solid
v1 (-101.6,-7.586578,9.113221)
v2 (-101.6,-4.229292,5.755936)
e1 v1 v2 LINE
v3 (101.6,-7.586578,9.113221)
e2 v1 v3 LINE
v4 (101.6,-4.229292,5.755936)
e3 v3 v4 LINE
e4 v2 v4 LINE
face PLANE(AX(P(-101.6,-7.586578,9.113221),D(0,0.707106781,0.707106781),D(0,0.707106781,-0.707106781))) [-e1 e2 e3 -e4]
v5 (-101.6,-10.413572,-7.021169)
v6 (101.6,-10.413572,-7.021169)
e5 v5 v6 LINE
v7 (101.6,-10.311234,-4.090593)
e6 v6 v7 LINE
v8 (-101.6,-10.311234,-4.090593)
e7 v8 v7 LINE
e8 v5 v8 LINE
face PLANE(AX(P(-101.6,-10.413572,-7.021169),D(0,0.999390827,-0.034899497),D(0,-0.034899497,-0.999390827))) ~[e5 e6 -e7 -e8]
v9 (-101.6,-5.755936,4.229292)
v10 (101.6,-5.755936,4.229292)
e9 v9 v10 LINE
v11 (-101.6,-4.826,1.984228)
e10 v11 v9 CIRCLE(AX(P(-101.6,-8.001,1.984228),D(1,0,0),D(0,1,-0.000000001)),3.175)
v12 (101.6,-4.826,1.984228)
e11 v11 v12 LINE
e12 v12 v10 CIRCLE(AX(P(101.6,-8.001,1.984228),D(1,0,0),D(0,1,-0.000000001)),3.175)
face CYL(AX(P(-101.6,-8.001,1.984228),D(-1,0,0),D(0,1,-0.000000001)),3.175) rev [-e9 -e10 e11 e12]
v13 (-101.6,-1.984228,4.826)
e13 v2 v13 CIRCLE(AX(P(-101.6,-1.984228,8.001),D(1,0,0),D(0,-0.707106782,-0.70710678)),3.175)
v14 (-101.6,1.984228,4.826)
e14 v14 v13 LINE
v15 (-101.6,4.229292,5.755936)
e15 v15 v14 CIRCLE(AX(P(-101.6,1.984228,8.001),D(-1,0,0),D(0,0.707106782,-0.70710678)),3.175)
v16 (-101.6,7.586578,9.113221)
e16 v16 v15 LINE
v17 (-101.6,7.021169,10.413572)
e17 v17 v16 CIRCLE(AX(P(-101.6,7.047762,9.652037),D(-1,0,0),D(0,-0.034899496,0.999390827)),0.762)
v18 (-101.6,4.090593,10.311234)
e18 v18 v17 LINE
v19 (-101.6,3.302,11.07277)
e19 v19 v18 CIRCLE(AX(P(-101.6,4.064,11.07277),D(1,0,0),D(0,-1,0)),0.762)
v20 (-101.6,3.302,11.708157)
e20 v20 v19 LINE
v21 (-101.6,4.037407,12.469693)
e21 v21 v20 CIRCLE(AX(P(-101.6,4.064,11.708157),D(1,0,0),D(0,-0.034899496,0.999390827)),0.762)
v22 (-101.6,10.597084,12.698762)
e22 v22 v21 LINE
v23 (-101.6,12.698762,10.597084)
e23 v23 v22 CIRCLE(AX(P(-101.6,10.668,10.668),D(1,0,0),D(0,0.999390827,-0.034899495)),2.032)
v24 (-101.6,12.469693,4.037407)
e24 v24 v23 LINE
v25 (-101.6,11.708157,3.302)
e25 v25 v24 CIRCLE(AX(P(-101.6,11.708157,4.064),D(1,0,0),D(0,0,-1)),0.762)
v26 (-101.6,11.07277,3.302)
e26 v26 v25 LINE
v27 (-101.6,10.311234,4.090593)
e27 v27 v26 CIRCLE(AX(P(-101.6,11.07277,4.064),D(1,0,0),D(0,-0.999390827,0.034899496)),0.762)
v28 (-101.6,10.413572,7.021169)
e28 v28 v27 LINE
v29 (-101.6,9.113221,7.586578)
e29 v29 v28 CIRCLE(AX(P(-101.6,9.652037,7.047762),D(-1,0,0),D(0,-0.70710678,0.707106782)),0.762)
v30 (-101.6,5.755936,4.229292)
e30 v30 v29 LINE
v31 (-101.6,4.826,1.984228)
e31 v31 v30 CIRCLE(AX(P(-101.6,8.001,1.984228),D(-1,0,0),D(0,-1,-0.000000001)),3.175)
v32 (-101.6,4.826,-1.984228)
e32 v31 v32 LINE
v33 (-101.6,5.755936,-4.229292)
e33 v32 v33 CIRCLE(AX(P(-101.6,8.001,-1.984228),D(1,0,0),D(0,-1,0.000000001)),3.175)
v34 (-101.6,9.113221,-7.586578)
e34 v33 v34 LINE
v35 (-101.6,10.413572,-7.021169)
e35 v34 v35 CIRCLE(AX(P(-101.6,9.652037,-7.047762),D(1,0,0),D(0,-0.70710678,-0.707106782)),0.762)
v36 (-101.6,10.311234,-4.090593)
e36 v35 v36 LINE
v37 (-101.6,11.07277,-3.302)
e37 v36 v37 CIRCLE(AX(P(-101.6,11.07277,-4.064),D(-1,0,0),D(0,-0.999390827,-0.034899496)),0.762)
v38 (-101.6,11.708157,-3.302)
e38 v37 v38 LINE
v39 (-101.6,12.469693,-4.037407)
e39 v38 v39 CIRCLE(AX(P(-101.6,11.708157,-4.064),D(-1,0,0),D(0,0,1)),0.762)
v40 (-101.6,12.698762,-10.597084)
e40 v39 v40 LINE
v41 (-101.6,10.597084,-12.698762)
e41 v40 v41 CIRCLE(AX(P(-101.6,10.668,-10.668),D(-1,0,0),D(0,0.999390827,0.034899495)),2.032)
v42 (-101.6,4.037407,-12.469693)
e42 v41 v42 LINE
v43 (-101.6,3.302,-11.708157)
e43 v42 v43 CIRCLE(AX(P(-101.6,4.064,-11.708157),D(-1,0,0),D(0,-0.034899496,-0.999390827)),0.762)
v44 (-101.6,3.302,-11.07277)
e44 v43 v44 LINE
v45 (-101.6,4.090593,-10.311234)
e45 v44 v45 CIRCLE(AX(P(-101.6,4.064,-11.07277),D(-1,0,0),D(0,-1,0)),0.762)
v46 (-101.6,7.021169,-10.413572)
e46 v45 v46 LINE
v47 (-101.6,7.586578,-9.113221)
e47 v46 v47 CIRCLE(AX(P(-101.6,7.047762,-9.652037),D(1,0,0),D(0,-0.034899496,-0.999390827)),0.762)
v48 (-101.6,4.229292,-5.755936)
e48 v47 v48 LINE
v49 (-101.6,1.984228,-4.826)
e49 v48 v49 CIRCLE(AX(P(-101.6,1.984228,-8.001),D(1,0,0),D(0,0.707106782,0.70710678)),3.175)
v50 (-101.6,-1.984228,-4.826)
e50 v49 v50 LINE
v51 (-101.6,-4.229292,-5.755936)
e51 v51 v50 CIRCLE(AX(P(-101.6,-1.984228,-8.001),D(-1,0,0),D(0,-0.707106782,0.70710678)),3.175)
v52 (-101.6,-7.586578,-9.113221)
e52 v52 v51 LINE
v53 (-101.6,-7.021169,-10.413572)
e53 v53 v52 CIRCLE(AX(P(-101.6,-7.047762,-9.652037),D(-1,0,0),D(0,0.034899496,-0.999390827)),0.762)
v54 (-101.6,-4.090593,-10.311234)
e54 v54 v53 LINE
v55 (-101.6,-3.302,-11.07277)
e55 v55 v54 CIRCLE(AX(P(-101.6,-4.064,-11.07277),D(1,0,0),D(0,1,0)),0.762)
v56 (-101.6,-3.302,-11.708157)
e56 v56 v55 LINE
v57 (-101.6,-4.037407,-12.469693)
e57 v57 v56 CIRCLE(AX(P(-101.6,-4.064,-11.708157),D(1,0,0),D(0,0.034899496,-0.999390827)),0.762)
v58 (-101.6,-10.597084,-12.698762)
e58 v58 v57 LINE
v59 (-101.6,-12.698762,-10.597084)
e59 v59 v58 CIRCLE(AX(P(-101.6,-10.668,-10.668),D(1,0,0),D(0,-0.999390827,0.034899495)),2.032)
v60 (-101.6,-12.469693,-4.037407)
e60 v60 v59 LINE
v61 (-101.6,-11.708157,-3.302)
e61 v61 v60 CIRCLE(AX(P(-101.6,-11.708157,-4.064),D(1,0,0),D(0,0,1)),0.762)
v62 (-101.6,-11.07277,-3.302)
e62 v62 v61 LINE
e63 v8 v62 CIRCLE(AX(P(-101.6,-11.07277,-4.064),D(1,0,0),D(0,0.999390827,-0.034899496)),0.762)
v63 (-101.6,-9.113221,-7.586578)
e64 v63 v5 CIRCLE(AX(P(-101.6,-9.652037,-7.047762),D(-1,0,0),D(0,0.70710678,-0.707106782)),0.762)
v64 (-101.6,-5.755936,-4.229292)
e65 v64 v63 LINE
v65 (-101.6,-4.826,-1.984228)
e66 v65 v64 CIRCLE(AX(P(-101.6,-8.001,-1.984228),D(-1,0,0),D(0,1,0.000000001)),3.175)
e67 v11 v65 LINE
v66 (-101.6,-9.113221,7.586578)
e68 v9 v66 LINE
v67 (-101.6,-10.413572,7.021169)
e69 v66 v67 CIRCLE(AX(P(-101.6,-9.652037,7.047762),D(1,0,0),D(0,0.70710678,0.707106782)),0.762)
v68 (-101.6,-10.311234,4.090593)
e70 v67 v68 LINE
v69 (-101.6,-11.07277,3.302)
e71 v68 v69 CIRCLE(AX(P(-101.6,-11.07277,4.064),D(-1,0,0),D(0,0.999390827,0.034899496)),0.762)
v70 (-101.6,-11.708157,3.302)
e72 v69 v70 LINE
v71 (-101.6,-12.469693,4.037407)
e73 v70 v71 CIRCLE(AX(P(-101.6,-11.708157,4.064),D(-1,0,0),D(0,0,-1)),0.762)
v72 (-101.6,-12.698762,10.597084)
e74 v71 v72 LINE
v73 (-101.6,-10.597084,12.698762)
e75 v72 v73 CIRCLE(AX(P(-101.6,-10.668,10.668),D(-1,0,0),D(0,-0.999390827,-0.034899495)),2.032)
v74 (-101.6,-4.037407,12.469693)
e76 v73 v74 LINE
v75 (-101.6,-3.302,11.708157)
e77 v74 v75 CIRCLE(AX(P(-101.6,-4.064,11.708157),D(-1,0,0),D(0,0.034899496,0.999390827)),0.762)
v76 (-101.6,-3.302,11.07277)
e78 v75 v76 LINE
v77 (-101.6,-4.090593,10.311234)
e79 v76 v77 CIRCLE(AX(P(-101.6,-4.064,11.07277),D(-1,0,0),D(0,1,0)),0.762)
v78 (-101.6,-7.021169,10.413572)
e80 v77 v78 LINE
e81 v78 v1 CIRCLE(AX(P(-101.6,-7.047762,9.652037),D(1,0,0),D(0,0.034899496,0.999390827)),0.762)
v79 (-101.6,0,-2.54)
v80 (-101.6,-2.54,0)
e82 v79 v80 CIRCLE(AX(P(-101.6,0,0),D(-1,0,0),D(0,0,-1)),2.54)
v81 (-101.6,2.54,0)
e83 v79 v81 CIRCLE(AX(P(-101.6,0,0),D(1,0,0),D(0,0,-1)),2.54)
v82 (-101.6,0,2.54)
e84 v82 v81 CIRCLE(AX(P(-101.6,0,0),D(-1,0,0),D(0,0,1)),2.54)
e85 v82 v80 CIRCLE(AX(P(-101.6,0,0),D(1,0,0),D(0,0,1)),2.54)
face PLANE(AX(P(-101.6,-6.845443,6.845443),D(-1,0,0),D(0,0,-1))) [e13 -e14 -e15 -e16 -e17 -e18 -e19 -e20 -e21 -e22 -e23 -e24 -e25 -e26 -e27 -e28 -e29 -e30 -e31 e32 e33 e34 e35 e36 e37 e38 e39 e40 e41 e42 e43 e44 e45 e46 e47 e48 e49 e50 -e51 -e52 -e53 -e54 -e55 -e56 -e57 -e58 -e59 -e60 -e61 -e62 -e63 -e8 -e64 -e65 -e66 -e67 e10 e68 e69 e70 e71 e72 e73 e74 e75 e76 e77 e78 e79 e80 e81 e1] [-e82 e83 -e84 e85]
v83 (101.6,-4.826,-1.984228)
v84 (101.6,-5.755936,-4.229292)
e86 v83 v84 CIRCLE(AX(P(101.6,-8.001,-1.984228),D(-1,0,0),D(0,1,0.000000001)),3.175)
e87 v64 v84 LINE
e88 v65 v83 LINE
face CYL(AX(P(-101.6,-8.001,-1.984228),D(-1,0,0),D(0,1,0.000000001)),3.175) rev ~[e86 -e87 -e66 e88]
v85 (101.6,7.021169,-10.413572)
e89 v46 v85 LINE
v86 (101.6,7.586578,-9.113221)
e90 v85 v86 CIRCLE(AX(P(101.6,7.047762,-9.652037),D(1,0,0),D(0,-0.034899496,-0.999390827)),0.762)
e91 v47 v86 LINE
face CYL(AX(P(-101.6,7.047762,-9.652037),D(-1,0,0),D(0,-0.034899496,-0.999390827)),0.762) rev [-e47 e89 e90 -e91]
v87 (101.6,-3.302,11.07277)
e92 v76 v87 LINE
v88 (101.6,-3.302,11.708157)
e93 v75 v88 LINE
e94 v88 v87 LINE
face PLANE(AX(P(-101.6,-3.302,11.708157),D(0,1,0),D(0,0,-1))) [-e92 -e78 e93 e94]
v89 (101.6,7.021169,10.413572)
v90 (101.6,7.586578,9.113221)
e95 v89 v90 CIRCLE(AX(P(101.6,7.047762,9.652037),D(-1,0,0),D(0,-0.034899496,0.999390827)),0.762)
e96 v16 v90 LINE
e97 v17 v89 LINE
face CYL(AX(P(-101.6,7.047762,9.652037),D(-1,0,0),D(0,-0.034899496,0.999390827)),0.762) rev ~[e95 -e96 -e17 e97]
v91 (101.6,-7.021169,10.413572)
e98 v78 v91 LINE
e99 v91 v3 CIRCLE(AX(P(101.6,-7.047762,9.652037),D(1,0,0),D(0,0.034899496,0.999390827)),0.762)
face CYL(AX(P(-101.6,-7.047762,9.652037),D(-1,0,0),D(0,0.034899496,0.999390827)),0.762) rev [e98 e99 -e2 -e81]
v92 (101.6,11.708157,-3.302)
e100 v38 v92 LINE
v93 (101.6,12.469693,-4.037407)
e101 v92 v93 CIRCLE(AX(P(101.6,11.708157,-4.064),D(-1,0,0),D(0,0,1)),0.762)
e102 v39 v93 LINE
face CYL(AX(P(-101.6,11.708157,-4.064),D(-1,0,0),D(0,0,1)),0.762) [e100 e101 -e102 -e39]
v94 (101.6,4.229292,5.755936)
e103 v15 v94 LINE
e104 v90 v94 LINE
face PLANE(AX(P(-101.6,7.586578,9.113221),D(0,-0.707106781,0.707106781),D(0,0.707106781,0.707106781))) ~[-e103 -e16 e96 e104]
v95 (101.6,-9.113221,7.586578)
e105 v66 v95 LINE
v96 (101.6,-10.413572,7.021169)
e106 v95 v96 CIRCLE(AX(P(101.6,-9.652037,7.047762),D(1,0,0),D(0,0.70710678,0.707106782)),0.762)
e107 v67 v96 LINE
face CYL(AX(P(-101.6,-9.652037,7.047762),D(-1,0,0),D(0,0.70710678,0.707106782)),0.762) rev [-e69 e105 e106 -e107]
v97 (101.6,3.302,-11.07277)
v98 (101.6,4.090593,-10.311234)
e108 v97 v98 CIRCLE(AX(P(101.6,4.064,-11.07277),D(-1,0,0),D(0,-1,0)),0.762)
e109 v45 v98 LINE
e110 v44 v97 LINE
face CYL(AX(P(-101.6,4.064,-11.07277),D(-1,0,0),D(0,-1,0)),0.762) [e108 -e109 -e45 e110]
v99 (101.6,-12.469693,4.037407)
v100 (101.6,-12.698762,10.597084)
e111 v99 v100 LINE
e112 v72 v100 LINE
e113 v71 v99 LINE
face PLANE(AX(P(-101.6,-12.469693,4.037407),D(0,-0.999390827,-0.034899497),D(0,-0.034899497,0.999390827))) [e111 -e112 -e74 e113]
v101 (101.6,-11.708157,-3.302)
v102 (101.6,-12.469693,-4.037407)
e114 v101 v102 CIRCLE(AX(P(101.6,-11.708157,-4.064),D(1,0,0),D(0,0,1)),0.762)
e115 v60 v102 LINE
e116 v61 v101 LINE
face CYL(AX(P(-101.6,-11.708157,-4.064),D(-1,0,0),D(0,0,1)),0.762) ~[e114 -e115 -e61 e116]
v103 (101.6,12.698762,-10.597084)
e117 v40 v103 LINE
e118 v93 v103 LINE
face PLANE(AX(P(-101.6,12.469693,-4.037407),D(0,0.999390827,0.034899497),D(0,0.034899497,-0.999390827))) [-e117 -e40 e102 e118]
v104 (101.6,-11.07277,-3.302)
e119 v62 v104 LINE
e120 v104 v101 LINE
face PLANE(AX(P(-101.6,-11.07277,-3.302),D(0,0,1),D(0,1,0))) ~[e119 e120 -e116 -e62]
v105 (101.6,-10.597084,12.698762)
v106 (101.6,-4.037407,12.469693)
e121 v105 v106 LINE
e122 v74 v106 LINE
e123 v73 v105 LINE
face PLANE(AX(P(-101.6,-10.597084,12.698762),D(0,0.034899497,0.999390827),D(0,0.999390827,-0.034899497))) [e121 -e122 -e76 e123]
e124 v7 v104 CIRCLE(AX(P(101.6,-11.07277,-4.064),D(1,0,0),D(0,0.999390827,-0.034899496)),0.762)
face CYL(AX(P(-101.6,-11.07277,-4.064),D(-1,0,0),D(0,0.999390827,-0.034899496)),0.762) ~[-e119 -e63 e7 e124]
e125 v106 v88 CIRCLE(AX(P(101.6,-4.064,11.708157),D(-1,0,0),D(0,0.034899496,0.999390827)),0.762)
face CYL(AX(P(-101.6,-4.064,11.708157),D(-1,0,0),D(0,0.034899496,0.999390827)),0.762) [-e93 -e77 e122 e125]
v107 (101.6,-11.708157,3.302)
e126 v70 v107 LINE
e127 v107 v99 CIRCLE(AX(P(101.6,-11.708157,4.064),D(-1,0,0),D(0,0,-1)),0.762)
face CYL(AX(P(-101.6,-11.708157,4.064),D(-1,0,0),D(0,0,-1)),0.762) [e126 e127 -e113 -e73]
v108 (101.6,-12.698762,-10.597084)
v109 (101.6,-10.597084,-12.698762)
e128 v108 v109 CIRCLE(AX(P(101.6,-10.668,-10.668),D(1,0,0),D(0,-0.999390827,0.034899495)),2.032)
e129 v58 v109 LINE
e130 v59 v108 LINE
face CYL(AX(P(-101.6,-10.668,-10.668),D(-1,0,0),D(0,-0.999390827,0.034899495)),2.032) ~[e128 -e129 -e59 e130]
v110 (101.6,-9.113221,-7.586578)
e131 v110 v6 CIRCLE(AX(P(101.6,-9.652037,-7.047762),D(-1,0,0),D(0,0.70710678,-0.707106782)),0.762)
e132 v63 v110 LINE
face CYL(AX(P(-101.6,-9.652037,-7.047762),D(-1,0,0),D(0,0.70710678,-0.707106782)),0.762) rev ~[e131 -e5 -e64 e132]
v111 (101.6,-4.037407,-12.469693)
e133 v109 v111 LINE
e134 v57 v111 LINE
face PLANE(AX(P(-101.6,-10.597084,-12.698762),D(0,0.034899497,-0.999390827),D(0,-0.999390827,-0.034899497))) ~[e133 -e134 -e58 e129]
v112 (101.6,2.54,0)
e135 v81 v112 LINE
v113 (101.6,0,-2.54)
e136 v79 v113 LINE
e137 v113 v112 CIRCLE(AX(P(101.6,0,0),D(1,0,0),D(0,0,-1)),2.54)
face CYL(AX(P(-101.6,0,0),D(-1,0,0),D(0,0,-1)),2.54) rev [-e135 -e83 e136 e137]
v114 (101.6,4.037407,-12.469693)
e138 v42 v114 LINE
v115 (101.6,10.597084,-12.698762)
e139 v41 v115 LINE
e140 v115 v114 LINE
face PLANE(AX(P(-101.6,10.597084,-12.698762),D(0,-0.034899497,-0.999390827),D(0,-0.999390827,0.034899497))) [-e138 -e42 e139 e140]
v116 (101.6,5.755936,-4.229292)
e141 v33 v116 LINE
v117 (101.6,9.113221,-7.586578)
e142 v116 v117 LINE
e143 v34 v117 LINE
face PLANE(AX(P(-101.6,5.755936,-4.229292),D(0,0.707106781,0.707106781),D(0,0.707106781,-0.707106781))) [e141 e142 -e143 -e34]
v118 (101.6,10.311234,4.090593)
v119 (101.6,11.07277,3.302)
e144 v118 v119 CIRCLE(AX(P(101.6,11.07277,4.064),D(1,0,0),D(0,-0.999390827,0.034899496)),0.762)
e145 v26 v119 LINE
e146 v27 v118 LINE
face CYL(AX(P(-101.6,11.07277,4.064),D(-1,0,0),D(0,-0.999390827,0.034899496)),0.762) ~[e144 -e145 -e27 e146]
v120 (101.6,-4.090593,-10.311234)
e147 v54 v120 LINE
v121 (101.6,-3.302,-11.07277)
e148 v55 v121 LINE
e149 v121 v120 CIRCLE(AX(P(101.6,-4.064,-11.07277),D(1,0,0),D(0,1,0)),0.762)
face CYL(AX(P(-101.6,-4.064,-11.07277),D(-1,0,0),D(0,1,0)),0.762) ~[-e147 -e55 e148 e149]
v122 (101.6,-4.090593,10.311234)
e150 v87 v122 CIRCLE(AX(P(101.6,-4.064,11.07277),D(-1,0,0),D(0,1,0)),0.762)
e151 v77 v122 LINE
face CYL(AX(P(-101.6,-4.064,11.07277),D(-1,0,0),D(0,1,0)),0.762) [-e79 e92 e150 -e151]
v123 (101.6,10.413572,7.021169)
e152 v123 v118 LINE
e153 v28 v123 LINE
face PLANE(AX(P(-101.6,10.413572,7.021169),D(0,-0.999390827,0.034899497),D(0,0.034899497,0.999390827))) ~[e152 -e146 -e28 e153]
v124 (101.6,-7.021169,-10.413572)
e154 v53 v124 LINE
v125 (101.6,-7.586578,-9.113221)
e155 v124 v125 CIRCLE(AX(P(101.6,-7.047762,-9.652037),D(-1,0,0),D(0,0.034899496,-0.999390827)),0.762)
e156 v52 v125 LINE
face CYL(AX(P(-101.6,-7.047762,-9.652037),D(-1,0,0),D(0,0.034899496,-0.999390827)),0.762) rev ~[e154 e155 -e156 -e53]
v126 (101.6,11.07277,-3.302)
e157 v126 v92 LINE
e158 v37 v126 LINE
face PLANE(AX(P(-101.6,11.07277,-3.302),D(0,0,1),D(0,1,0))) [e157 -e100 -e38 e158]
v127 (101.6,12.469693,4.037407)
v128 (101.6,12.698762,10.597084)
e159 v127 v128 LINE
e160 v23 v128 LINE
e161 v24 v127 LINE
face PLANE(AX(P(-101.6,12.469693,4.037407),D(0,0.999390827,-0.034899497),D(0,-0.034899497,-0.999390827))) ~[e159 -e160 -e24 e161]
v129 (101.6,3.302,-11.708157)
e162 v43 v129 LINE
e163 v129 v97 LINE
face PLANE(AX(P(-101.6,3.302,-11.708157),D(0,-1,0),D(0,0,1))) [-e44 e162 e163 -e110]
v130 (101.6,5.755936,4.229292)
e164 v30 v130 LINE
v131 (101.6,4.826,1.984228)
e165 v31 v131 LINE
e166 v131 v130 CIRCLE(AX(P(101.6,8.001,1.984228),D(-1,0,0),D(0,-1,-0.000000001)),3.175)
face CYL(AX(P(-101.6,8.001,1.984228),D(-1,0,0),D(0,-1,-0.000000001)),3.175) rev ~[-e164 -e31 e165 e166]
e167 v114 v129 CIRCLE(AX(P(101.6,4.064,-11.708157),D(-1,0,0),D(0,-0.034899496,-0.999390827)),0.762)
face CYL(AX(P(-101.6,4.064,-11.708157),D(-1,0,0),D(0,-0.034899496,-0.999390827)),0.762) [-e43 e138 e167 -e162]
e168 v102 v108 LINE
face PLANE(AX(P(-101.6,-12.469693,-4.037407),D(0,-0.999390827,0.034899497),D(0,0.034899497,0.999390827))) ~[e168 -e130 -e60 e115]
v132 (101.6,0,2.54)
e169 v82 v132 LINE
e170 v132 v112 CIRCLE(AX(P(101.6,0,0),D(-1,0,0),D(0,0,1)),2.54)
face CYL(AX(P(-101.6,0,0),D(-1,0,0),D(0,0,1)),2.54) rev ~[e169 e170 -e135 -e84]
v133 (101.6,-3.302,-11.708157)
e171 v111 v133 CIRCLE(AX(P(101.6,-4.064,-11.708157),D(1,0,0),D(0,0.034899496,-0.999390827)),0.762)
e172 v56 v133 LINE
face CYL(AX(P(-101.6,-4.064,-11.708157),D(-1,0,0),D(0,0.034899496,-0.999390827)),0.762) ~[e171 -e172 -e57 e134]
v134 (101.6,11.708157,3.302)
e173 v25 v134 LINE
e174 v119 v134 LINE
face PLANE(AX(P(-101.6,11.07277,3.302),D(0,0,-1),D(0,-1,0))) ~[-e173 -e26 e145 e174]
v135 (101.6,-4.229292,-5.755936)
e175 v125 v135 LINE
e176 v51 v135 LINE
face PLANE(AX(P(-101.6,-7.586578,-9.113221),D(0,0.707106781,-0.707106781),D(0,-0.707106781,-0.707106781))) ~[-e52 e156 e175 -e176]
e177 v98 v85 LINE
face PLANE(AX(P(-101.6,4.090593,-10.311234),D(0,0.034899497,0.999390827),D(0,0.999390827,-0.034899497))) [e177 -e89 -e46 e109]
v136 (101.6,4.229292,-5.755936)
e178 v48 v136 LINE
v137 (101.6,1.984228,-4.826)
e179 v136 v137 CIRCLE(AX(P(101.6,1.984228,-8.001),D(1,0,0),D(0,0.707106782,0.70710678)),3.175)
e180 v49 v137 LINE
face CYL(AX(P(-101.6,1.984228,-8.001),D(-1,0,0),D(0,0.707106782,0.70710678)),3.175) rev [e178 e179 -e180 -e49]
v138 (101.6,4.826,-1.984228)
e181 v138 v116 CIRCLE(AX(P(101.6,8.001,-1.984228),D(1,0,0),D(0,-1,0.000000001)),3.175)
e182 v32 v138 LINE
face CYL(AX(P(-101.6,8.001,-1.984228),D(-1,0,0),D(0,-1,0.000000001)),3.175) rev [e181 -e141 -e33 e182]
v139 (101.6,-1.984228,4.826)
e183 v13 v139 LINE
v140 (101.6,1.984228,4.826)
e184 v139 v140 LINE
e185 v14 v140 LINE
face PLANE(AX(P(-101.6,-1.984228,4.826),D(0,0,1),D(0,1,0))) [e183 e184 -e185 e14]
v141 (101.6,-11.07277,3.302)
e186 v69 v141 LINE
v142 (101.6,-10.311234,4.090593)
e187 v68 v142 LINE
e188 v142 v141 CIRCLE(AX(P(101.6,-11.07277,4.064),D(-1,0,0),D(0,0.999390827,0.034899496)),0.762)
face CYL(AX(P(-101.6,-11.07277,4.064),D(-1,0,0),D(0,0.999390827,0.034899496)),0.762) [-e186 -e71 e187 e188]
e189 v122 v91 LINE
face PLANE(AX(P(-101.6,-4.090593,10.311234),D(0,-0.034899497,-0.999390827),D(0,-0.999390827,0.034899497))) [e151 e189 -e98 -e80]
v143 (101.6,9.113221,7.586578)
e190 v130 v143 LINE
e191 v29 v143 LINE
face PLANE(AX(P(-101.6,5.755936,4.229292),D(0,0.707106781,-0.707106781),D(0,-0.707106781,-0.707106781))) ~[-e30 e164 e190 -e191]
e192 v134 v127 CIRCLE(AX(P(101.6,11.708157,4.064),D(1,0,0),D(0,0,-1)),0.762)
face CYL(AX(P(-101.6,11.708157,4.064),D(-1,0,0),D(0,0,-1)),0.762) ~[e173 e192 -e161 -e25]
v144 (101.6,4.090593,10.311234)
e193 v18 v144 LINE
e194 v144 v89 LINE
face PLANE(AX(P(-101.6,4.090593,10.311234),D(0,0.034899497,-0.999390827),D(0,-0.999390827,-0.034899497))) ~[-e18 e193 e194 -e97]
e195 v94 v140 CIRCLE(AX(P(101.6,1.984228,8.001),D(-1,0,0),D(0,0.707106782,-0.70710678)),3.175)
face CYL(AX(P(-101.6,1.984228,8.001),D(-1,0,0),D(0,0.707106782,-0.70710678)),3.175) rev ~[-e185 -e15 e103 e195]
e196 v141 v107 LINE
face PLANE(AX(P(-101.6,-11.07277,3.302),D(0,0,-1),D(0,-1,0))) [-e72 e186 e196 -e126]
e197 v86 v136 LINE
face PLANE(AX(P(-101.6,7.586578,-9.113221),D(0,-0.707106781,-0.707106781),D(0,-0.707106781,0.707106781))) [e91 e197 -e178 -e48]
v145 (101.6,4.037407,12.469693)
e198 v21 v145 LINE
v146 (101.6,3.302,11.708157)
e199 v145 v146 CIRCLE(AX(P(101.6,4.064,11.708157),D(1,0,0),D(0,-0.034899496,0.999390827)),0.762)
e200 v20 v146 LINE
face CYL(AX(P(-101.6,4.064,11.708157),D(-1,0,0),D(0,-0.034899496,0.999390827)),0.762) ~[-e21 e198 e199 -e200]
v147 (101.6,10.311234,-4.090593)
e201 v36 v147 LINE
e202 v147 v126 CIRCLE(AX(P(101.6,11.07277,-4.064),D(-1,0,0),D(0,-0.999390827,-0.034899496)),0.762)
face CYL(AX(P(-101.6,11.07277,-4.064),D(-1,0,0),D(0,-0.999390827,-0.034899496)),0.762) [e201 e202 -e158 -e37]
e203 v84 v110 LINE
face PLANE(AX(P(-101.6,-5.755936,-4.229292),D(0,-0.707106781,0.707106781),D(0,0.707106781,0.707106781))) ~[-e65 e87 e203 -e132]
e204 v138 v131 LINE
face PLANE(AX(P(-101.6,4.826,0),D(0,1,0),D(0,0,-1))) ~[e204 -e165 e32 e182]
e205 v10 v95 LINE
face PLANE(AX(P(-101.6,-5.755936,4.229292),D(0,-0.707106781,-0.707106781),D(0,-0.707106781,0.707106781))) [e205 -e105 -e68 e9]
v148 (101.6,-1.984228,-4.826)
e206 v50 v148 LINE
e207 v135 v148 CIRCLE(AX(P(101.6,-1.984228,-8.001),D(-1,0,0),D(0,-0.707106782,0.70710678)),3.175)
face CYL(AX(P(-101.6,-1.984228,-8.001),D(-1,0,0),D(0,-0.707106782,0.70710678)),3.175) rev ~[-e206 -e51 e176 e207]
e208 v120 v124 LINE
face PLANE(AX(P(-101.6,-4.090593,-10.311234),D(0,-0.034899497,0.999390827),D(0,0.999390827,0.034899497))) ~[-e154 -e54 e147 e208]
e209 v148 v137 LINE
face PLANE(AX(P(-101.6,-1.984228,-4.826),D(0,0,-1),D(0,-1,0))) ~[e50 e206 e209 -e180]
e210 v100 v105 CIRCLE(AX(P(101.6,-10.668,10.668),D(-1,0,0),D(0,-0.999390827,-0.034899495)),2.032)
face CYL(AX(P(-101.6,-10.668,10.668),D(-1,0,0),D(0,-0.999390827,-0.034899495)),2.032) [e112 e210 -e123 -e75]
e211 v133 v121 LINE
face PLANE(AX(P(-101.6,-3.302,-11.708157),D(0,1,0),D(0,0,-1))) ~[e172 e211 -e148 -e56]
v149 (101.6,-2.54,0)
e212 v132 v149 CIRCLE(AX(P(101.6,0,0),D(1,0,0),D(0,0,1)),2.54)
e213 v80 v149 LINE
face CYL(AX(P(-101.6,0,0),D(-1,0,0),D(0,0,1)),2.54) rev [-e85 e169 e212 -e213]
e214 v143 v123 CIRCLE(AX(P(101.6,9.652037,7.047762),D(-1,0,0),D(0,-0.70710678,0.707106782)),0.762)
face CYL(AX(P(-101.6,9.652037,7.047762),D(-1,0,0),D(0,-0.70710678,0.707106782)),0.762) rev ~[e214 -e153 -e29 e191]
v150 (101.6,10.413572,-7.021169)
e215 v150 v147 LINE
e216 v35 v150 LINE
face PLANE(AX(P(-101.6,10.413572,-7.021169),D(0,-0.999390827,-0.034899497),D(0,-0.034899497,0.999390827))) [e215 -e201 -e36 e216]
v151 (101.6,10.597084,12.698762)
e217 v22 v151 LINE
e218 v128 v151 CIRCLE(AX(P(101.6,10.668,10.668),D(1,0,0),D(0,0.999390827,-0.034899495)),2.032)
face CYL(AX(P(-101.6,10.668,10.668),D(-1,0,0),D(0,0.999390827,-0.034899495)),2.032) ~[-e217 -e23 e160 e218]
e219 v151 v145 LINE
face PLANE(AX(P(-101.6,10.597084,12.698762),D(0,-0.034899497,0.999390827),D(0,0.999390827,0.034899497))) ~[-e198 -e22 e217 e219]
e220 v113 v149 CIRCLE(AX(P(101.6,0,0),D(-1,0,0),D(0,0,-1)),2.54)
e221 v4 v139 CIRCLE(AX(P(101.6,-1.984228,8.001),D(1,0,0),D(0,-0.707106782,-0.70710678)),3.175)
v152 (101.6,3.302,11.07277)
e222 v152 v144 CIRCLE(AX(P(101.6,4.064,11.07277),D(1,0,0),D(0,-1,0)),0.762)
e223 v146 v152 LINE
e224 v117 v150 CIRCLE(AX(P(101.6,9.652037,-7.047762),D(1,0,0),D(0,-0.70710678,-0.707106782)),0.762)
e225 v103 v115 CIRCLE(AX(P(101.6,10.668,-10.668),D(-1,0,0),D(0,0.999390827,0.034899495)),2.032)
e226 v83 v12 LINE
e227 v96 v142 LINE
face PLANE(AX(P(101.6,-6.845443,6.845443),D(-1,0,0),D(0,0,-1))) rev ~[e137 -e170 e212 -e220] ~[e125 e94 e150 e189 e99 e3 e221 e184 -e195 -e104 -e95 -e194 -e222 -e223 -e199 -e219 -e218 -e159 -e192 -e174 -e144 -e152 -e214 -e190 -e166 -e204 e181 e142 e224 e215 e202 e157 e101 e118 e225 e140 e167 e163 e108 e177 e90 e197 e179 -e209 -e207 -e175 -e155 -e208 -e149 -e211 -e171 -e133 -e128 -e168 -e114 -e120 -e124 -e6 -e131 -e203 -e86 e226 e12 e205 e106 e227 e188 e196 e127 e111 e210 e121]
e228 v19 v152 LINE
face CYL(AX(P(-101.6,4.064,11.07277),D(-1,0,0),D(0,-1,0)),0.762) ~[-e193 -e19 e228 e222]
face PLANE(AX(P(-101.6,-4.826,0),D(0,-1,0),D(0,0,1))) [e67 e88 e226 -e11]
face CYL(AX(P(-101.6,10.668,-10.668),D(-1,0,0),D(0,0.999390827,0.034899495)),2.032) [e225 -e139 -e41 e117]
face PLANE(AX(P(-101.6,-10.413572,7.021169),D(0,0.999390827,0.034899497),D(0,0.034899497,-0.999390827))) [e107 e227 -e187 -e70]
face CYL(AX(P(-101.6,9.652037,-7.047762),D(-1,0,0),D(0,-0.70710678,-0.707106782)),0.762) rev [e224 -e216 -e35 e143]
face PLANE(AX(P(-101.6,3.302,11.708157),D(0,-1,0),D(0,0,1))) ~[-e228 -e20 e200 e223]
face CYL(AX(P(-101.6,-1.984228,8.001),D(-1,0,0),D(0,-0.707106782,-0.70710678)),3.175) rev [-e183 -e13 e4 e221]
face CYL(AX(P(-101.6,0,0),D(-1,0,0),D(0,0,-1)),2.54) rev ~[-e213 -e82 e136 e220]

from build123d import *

# Parameters (mm, degrees)
BOSS_EXTRUDE1_DEPTH      = 101.6
BOSS_EXTRUDE1_DEPTH_BACK = 101.6


with BuildPart() as part:
    # Sketch3 → Boss-Extrude1 (new, two sides: drawn at the far end of the back side and taken through both)
    with BuildSketch(Plane(origin=(0, 0, 0), x_dir=(0, 0, -1), z_dir=(1, 0, 0)).offset(-BOSS_EXTRUDE1_DEPTH_BACK)):
        with BuildLine():
            Line((0, 4.826), (1.984228399, 4.826))
            ThreePointArc((1.984228399, 4.826), (3.199248297, 5.067682484), (4.229292429, 5.75593597))
            Line((4.229292429, 5.75593597), (7.586577723, 9.113221264))
            ThreePointArc((7.586577723, 9.113221264), (7.746562132, 9.955883421), (7.021168939, 10.413572441))
            Line((7.021168939, 10.413572441), (4.090593416, 10.311234489))
            ThreePointArc((4.090593416, 10.311234489), (3.534670322, 10.524633371), (3.302, 11.072770299))
            Line((3.302, 11.072770299), (3.302, 11.70815736))
            ThreePointArc((3.302, 11.70815736), (3.515863072, 12.237487038), (4.037406584, 12.46969317))
            Line((4.037406584, 12.46969317), (10.597084223, 12.698762161))
            ThreePointArc((10.597084223, 12.698762161), (12.104840979, 12.104840979), (12.698762161, 10.597084223))
            Line((12.698762161, 10.597084223), (12.46969317, 4.037406584))
            ThreePointArc((12.46969317, 4.037406584), (12.237487038, 3.515863072), (11.70815736, 3.302))
            Line((11.70815736, 3.302), (11.072770299, 3.302))
            ThreePointArc((11.072770299, 3.302), (10.524633371, 3.534670322), (10.311234489, 4.090593416))
            Line((10.311234489, 4.090593416), (10.413572441, 7.021168939))
            ThreePointArc((10.413572441, 7.021168939), (9.955883421, 7.746562132), (9.113221264, 7.586577723))
            Line((9.113221264, 7.586577723), (5.75593597, 4.229292429))
            ThreePointArc((5.75593597, 4.229292429), (5.067682484, 3.199248297), (4.826, 1.984228399))
            Line((4.826, 1.984228399), (4.826, 0))
            Line((4.826, 0), (2.54, 0))
            ThreePointArc((2.54, 0), (1.796051224, 1.796051224), (0, 2.54))
            Line((0, 2.54), (0, 4.826))
        make_face()
    extrude(amount=BOSS_EXTRUDE1_DEPTH + BOSS_EXTRUDE1_DEPTH_BACK)

    # Mirror1: part across plane


with BuildPart() as part_1:
    add(part.part)
    add(part.part.mirror(Plane.ZX))

    # Mirror2: part across plane


with BuildPart() as part_2:
    add(part_1.part)
    add(part_1.part.mirror(Plane.XY))


solid = part_2.part
